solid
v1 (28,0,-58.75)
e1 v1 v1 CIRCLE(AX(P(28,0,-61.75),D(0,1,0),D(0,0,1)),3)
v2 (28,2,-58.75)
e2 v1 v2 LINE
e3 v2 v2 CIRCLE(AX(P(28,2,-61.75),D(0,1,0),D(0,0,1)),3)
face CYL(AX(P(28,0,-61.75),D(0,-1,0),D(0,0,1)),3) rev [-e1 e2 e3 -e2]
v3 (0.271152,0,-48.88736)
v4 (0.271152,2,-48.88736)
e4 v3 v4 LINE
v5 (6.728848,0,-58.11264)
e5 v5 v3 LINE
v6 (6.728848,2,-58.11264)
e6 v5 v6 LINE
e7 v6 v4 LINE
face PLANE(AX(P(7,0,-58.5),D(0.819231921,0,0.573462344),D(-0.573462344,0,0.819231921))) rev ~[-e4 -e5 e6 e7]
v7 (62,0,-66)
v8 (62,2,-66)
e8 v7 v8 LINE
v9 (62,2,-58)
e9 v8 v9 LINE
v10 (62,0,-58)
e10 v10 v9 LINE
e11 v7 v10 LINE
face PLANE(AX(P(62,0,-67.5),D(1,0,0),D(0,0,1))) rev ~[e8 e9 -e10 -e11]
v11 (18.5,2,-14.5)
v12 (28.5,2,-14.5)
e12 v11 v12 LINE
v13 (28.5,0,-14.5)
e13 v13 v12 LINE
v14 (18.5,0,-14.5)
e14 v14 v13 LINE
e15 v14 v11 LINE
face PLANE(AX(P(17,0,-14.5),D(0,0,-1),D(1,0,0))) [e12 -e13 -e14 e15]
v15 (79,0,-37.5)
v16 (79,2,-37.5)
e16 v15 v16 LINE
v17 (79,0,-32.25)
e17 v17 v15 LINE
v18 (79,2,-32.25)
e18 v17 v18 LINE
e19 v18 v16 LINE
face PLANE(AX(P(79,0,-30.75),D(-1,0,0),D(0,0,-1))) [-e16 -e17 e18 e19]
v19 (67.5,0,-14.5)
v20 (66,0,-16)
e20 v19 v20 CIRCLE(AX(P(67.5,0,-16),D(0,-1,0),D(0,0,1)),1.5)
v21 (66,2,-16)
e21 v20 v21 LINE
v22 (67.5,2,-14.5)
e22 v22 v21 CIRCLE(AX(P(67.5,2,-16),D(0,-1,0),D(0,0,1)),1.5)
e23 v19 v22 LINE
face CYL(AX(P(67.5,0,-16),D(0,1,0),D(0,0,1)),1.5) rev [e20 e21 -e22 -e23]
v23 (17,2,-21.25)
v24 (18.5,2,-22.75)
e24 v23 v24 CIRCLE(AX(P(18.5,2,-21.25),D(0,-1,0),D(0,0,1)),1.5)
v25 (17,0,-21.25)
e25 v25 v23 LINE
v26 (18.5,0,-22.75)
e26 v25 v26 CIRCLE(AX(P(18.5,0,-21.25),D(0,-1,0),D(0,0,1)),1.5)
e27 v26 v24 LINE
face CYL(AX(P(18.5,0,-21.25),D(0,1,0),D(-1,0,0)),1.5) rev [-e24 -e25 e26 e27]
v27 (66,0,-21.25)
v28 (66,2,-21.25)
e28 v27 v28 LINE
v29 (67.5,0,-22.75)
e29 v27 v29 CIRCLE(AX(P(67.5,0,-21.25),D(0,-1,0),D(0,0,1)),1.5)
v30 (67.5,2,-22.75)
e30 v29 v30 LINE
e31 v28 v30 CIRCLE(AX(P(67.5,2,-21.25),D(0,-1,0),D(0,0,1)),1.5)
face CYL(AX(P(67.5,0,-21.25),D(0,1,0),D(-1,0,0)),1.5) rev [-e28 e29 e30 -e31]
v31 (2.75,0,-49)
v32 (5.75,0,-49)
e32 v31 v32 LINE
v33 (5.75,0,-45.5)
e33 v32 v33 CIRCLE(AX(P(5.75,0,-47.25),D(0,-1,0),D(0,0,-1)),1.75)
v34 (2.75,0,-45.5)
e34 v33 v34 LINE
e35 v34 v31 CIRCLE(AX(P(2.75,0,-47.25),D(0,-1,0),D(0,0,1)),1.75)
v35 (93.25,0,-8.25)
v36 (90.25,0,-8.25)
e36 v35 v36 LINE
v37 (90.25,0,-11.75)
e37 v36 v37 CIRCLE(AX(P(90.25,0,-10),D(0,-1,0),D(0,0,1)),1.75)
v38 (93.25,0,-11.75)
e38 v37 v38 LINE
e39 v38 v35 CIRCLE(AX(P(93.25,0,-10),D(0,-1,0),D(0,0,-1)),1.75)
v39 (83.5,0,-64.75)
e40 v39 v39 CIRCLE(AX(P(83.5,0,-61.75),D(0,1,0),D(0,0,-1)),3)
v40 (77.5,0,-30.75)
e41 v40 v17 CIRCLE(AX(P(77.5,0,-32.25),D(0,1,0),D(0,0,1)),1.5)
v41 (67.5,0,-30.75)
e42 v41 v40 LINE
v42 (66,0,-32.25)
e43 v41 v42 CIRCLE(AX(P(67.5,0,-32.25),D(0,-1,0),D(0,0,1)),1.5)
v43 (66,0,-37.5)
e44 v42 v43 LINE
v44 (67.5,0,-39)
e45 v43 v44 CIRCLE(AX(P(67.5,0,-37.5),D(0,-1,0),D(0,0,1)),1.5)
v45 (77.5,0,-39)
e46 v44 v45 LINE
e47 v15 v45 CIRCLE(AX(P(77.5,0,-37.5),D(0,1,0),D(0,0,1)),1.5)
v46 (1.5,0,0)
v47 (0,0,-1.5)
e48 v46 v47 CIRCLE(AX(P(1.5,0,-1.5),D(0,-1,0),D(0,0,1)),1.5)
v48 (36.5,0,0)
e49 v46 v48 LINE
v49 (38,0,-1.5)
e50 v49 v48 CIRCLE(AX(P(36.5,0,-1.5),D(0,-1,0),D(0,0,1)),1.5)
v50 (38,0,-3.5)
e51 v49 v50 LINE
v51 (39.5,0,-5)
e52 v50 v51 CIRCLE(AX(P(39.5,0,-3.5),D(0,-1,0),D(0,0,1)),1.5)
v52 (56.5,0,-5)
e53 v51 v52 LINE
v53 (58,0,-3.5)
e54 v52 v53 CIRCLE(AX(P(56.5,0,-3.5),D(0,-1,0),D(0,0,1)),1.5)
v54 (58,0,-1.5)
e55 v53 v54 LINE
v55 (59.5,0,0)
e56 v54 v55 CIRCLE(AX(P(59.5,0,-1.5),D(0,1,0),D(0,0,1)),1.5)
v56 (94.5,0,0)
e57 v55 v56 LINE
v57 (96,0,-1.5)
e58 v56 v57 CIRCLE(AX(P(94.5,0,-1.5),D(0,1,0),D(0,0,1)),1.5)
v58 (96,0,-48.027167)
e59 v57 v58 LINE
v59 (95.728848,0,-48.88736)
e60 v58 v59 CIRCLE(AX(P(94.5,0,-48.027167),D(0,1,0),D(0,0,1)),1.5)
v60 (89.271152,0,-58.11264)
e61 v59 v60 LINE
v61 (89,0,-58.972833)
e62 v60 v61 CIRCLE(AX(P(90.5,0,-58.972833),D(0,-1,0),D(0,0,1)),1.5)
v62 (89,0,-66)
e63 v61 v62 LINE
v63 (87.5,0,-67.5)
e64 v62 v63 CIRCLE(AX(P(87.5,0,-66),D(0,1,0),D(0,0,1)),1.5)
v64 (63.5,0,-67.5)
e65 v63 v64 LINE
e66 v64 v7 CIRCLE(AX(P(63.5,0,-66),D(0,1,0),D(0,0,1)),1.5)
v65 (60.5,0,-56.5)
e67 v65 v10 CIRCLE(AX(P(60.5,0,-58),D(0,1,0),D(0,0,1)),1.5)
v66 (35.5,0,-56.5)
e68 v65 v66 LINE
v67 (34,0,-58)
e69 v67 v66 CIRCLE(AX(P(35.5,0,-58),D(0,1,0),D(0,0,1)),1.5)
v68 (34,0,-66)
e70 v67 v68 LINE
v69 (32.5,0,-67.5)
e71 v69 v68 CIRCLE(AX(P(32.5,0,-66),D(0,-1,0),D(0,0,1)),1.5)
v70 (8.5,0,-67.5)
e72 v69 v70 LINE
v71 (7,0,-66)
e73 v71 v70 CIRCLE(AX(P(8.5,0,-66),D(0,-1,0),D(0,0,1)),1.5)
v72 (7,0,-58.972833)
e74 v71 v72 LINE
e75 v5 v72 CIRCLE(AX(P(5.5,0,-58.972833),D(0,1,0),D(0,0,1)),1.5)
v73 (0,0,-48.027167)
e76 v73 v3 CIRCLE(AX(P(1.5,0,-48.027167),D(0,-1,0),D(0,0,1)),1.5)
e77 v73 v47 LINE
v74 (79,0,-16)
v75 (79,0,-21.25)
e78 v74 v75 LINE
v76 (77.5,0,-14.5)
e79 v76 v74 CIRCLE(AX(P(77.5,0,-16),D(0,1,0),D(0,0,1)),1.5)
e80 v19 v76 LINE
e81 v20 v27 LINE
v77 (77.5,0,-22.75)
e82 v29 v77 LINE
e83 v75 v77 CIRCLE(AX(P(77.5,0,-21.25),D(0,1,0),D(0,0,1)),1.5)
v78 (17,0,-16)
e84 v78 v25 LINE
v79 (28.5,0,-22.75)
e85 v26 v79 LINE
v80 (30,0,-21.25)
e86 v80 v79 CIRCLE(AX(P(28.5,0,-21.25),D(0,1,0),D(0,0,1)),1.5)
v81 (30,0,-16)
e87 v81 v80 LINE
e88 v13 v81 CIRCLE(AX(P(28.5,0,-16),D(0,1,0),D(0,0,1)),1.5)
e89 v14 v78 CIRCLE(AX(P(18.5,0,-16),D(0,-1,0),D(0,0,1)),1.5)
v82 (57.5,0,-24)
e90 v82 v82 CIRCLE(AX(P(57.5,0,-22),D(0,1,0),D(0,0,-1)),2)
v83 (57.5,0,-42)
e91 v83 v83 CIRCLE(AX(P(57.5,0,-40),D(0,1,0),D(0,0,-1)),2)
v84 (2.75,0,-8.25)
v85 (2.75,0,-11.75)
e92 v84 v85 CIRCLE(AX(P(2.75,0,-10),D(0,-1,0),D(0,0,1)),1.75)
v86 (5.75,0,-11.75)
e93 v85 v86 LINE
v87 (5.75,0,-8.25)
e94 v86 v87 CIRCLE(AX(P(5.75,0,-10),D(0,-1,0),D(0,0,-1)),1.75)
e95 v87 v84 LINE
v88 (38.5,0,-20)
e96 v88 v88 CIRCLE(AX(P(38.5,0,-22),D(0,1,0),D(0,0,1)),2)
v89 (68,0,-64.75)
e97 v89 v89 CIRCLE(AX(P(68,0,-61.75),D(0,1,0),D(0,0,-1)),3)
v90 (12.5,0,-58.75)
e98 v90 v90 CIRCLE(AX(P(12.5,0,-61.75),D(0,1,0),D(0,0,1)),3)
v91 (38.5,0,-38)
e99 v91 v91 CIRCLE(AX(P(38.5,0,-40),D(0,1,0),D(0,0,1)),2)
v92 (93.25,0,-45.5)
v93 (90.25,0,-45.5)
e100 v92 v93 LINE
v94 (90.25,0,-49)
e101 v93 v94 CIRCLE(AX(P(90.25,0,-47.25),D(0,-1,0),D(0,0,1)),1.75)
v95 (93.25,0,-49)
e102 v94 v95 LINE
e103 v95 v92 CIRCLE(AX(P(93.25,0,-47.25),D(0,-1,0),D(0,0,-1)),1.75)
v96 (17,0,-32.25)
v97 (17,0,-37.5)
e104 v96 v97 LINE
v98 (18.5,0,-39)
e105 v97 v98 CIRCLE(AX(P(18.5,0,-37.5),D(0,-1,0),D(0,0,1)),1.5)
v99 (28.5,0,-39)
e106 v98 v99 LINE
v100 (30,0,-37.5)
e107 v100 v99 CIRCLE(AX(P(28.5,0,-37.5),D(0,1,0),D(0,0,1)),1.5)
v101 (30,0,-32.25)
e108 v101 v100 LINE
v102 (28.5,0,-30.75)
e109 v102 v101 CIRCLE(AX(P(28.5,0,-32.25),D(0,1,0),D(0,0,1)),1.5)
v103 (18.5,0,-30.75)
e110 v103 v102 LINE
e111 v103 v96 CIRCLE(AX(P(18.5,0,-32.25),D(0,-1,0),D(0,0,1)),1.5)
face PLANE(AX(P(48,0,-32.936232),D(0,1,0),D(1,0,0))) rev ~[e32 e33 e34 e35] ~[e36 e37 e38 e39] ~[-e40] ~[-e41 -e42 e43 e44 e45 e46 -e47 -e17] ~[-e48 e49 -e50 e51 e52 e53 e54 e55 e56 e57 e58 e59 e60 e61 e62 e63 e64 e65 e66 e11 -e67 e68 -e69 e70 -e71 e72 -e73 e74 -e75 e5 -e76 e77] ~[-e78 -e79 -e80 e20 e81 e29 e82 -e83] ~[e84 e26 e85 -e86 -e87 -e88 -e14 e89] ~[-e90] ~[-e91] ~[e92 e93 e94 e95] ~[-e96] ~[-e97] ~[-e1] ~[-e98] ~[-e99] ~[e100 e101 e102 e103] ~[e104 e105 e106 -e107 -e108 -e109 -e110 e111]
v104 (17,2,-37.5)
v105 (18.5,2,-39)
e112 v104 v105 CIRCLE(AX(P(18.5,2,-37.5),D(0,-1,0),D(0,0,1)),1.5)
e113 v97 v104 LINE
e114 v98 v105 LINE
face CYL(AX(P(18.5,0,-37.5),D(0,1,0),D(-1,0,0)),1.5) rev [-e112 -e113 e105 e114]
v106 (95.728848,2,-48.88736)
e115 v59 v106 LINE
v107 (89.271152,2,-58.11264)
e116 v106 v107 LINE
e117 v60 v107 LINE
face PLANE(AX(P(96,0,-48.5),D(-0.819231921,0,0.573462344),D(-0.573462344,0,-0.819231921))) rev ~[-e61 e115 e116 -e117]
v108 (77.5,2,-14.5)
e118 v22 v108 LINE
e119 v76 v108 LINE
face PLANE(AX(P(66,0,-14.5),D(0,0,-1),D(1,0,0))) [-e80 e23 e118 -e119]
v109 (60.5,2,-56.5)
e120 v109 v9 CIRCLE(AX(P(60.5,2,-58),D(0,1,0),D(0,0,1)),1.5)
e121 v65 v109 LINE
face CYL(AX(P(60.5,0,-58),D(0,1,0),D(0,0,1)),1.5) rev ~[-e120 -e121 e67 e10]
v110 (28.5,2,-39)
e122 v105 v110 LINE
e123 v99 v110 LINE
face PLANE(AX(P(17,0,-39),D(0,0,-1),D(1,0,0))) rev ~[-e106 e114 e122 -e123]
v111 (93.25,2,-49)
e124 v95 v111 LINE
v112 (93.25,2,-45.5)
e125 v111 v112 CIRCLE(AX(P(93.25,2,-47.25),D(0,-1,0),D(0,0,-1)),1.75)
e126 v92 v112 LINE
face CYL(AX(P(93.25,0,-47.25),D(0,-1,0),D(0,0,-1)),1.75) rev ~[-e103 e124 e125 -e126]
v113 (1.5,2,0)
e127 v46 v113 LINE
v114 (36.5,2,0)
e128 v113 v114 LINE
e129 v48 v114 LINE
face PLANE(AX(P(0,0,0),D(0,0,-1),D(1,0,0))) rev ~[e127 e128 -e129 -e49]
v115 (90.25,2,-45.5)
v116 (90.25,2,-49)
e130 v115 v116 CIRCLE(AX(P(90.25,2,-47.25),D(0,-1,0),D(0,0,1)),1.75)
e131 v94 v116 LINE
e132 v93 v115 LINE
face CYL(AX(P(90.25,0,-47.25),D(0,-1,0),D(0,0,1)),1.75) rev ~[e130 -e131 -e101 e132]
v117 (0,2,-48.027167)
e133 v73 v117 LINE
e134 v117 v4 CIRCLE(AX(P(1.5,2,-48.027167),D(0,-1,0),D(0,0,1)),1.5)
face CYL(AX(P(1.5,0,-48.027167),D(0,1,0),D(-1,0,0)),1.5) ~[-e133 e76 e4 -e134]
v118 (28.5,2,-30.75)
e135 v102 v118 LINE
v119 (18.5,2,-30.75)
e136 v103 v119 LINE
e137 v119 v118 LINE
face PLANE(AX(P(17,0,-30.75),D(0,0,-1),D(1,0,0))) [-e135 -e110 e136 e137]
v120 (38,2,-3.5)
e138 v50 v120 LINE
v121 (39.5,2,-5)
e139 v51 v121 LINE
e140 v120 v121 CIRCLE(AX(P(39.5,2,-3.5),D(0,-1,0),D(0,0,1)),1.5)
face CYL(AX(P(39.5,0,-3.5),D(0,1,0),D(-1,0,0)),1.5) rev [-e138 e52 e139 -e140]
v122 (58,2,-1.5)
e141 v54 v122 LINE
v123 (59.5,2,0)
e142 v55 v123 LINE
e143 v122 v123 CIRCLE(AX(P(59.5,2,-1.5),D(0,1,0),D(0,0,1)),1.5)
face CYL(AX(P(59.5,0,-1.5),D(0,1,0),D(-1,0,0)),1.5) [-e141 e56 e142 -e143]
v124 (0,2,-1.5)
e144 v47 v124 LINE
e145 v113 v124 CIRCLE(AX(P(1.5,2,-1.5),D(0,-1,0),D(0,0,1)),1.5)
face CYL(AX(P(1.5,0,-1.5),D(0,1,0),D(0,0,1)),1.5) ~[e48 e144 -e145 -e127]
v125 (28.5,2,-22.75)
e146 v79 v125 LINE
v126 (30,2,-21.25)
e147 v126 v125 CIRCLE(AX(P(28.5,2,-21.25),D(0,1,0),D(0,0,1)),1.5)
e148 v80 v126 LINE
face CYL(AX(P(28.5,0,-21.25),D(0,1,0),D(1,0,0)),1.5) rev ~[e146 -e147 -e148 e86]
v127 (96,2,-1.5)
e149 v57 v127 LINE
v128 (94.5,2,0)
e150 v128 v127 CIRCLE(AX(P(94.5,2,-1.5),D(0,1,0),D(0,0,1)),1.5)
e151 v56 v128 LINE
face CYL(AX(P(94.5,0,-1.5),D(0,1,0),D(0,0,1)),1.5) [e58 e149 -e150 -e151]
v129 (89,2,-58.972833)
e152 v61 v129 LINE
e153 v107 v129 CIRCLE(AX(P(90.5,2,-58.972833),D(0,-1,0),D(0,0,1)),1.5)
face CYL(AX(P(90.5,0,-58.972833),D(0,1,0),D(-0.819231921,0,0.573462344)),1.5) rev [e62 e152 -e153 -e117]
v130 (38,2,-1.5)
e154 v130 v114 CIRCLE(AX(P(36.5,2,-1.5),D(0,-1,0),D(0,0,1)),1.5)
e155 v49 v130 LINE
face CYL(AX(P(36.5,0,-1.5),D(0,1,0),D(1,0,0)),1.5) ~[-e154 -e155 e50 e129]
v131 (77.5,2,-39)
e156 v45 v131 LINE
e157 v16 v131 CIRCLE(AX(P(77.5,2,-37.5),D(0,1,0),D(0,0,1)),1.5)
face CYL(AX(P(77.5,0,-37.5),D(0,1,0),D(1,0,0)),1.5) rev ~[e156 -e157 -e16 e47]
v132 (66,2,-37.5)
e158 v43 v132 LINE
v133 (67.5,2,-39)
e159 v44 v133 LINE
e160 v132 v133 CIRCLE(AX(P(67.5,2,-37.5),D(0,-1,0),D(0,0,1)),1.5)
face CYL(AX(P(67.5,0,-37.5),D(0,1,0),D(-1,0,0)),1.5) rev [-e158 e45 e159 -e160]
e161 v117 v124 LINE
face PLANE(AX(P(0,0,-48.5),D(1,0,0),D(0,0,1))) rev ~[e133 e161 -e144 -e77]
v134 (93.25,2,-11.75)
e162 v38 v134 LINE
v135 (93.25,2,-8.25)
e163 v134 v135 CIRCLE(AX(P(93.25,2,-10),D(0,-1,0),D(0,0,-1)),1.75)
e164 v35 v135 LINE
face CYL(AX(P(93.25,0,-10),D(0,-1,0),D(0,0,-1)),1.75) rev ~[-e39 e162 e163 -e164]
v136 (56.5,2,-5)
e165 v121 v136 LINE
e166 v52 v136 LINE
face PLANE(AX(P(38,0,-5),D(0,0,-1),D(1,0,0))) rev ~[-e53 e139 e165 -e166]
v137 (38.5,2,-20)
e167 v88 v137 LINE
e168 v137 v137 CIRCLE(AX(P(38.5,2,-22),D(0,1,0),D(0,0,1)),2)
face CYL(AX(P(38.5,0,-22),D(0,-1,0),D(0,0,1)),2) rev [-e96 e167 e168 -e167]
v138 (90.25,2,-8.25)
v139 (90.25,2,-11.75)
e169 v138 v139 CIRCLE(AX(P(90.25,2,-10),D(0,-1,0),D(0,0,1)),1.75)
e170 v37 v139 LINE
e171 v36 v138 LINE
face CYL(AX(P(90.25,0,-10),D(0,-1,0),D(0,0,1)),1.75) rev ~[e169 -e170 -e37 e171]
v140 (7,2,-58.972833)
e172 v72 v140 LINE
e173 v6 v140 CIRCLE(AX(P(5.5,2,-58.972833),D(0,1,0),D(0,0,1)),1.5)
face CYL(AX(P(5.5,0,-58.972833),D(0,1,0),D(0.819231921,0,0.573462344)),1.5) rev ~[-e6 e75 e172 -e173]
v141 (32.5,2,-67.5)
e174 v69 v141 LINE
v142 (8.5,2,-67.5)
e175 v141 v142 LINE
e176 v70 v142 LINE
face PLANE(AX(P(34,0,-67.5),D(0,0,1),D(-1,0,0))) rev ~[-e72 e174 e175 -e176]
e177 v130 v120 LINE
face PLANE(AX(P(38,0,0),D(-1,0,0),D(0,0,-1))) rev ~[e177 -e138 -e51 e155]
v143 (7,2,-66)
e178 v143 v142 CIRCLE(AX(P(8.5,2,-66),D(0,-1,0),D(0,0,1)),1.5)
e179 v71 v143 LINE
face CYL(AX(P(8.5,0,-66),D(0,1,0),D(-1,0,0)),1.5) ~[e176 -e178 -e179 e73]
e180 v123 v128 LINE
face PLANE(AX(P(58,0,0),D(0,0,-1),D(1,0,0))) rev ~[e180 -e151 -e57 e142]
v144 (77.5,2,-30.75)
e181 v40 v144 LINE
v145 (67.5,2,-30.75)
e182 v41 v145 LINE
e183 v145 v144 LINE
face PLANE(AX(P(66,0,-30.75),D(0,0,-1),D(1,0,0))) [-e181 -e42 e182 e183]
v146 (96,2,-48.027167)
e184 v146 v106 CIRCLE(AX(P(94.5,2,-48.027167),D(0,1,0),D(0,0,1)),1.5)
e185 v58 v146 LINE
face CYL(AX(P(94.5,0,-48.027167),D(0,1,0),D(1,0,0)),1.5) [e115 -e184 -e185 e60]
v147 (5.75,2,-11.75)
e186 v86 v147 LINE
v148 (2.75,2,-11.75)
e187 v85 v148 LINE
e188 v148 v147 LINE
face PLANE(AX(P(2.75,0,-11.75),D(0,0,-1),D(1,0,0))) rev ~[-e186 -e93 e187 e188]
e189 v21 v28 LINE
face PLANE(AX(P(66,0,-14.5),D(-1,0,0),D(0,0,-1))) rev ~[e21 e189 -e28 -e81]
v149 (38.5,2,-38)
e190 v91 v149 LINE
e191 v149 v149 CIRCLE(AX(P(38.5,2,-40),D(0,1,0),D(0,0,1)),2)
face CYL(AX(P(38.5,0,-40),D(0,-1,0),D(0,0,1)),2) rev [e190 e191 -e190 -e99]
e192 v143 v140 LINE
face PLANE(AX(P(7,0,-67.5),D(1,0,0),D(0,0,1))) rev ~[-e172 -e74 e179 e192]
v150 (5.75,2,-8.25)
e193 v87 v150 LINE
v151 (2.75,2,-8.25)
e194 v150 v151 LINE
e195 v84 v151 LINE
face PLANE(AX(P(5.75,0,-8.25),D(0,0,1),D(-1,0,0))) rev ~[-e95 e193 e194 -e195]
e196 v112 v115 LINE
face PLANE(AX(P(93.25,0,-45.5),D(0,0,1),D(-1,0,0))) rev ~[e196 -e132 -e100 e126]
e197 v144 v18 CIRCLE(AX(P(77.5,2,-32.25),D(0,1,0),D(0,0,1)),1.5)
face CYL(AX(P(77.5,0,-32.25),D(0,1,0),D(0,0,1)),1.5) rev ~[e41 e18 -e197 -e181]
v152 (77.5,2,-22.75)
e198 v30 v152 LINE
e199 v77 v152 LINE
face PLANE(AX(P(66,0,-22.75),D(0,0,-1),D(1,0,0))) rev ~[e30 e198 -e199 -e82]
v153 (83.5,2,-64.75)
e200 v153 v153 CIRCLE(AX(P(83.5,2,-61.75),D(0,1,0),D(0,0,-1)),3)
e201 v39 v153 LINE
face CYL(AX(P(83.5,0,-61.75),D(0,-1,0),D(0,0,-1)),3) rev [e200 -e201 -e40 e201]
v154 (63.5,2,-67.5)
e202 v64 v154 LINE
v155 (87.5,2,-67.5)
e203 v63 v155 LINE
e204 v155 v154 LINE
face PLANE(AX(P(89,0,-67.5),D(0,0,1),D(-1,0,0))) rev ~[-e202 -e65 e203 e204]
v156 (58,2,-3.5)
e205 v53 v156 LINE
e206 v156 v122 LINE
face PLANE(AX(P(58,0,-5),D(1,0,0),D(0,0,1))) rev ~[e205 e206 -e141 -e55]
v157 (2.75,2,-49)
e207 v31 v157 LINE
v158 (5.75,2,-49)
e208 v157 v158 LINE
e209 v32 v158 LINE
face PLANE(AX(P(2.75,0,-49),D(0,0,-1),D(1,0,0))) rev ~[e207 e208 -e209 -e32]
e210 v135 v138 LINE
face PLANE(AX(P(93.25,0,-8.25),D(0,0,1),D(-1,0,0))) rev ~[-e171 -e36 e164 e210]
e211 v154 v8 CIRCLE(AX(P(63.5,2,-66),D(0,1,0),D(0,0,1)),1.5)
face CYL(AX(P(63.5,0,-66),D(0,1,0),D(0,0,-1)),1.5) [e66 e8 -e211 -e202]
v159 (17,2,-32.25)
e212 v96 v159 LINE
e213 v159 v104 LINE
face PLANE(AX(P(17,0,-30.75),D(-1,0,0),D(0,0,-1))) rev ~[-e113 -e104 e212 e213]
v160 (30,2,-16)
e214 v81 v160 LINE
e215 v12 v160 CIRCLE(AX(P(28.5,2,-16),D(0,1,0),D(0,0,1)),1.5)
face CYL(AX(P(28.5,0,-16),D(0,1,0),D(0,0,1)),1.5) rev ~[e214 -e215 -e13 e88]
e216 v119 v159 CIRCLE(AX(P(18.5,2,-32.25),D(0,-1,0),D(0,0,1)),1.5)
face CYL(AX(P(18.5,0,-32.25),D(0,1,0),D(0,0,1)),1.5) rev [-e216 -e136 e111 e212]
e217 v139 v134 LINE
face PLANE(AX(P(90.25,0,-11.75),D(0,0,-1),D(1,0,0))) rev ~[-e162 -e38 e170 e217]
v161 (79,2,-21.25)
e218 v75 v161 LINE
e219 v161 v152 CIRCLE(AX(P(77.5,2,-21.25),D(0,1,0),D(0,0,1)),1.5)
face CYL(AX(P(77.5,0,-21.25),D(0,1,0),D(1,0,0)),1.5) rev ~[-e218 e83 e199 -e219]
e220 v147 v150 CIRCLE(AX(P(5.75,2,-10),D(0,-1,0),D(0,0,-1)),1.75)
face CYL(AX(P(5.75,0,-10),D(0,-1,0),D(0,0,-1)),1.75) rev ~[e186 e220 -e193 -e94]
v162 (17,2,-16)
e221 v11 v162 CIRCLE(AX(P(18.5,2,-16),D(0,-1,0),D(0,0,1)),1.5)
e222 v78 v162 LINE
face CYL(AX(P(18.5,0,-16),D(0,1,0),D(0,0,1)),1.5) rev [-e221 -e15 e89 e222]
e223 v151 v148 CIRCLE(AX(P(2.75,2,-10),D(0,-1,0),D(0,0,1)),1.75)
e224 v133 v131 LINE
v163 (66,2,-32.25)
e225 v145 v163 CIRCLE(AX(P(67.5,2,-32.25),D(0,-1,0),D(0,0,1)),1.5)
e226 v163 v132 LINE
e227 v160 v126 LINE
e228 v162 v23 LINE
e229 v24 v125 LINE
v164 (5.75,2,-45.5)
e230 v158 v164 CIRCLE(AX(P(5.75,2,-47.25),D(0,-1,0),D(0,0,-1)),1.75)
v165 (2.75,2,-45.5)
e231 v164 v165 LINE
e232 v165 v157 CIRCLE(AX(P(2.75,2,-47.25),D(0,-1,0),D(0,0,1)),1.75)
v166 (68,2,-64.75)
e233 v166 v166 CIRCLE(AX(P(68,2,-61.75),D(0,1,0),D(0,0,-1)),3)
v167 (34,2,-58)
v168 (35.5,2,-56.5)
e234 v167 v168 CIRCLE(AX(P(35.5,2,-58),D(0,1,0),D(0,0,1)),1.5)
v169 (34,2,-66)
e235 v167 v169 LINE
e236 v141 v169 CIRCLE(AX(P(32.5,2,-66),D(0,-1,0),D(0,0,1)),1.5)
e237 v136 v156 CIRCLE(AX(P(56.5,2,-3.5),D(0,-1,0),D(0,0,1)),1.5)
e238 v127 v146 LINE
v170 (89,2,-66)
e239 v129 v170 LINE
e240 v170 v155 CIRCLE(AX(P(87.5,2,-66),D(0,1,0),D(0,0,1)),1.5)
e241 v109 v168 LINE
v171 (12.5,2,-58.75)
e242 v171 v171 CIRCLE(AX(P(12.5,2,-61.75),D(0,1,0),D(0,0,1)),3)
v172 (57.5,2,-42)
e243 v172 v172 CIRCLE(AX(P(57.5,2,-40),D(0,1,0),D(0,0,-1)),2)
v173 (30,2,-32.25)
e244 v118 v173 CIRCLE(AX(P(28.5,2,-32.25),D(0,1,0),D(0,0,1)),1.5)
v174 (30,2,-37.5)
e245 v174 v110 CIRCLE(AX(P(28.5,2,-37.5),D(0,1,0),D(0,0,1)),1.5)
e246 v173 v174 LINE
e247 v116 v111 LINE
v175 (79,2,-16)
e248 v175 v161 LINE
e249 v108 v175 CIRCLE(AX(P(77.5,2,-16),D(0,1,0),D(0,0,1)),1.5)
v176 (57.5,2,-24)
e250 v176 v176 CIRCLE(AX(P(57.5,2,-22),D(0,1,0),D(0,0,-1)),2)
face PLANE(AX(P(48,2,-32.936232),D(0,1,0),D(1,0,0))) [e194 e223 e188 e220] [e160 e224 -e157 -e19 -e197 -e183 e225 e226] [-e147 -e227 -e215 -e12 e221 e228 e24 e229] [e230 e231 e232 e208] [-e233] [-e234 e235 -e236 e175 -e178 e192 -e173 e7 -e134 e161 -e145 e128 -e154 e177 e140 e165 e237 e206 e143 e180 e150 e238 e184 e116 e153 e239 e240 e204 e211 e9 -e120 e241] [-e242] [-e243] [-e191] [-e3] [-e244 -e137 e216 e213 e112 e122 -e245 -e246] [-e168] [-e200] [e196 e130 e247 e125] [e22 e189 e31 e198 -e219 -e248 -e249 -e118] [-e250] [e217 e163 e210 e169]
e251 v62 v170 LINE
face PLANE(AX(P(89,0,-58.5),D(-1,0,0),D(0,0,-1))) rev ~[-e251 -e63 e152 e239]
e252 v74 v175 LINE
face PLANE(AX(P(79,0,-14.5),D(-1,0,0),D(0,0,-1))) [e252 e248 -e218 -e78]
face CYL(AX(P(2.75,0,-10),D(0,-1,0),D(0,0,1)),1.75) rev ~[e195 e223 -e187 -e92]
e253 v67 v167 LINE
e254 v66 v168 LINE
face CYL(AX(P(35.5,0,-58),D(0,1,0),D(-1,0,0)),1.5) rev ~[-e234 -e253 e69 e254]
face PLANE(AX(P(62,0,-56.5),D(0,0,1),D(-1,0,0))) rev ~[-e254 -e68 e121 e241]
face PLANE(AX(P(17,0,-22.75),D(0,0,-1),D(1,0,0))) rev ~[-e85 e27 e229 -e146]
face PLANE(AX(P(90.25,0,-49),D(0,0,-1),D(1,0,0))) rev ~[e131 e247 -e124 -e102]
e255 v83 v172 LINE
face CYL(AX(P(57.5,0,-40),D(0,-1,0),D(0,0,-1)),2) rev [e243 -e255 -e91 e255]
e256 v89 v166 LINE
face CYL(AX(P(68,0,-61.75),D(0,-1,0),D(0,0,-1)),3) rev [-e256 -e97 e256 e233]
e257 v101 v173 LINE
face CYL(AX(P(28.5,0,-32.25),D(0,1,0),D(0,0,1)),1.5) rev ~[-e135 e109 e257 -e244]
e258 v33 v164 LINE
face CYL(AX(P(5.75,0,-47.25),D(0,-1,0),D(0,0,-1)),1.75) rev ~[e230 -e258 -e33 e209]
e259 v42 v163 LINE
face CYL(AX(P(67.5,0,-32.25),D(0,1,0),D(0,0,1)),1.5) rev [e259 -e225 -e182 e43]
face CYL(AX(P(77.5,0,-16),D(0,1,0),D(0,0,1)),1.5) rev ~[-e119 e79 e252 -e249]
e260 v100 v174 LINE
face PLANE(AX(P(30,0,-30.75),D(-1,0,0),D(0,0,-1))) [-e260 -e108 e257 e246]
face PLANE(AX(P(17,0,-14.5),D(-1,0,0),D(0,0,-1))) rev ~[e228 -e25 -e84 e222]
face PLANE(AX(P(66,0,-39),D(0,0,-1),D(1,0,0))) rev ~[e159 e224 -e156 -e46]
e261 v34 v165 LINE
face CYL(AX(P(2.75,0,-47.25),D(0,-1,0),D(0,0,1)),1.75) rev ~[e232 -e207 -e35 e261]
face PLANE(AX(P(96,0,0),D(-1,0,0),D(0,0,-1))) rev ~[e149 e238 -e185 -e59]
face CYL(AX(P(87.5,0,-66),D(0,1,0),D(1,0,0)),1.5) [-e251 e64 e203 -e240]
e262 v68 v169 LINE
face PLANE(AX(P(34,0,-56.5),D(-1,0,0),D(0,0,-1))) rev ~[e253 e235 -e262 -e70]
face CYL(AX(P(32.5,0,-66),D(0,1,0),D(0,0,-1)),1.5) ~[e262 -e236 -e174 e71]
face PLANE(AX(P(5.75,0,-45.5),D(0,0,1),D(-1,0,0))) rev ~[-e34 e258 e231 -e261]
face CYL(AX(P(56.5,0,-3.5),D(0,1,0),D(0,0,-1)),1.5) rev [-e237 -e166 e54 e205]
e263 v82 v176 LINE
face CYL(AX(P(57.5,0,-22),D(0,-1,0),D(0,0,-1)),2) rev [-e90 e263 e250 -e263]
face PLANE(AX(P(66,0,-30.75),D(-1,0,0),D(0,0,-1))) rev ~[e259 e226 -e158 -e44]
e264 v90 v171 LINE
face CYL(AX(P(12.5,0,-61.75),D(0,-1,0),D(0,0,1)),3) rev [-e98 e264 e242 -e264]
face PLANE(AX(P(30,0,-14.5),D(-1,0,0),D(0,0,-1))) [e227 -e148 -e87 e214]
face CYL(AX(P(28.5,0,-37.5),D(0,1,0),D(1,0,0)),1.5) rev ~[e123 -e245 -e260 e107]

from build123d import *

# Parameters (mm, degrees)
SKETCH1_R           = 2
SKETCH1_R_2         = 3
SKETCH1_W           = 13
SKETCH1_H           = 8.25
BOSS_EXTRUDE1_DEPTH = 2
FILLET1_R           = 1.5


with BuildPart() as part:
    # Sketch1 → Boss-Extrude1 (new body)
    with BuildSketch(Plane(origin=(0, 0, 0), x_dir=(1, 0, 0), z_dir=(0, 1, 0))):
        Polygon((38, 0), (38, 5), (58, 5), (58, 0), (96, 0), (96, 48.5), (89, 58.5), (89, 67.5), (62, 67.5), (62, 56.5), (34, 56.5), (34, 67.5), (7, 67.5), (7, 58.5), (0, 48.5), (0, 0), align=None)
        with Locations(Location((38.5, 40, 0), (0, 0, 270))):
            Circle(SKETCH1_R, mode=Mode.SUBTRACT)
        with Locations(Location((38.5, 22, 0), (0, 0, 270))):
            Circle(SKETCH1_R, mode=Mode.SUBTRACT)
        with Locations(Location((57.5, 22, 0), (0, 0, 90))):
            Circle(SKETCH1_R, mode=Mode.SUBTRACT)
        with Locations(Location((57.5, 40, 0), (0, 0, 90))):
            Circle(SKETCH1_R, mode=Mode.SUBTRACT)
        with Locations(Location((12.5, 61.75, 0), (0, 0, 270))):
            Circle(SKETCH1_R_2, mode=Mode.SUBTRACT)
        with Locations(Location((28, 61.75, 0), (0, 0, 270))):
            Circle(SKETCH1_R_2, mode=Mode.SUBTRACT)
        with Locations(Location((68, 61.75, 0), (0, 0, 90))):
            Circle(SKETCH1_R_2, mode=Mode.SUBTRACT)
        with Locations(Location((83.5, 61.75, 0), (0, 0, 90))):
            Circle(SKETCH1_R_2, mode=Mode.SUBTRACT)
        with Locations((72.5, 18.625)):
            Rectangle(SKETCH1_W, SKETCH1_H, mode=Mode.SUBTRACT)
        with Locations((23.5, 34.875)):
            Rectangle(SKETCH1_W, SKETCH1_H, mode=Mode.SUBTRACT)
        with Locations((23.5, 18.625)):
            Rectangle(SKETCH1_W, SKETCH1_H, mode=Mode.SUBTRACT)
        with Locations((72.5, 34.875)):
            Rectangle(SKETCH1_W, SKETCH1_H, mode=Mode.SUBTRACT)
        with BuildLine():
            Line((2.75, 11.75), (5.75, 11.75))
            ThreePointArc((5.75, 11.75), (7.5, 10), (5.75, 8.25))
            Line((5.75, 8.25), (2.75, 8.25))
            ThreePointArc((2.75, 8.25), (1, 10), (2.75, 11.75))
        make_face(mode=Mode.SUBTRACT)
        with BuildLine():
            Line((93.25, 8.25), (90.25, 8.25))
            ThreePointArc((90.25, 8.25), (88.5, 10), (90.25, 11.75))
            Line((90.25, 11.75), (93.25, 11.75))
            ThreePointArc((93.25, 11.75), (95, 10), (93.25, 8.25))
        make_face(mode=Mode.SUBTRACT)
        with BuildLine():
            Line((93.25, 45.5), (90.25, 45.5))
            ThreePointArc((90.25, 45.5), (88.5, 47.25), (90.25, 49))
            Line((90.25, 49), (93.25, 49))
            ThreePointArc((93.25, 49), (95, 47.25), (93.25, 45.5))
        make_face(mode=Mode.SUBTRACT)
        with BuildLine():
            Line((2.75, 49), (5.75, 49))
            ThreePointArc((5.75, 49), (7.5, 47.25), (5.75, 45.5))
            Line((5.75, 45.5), (2.75, 45.5))
            ThreePointArc((2.75, 45.5), (1, 47.25), (2.75, 49))
        make_face(mode=Mode.SUBTRACT)
    extrude(amount=BOSS_EXTRUDE1_DEPTH)

    # Fillet1
    fillet1_edges = [part.edges().sort_by_distance(p)[0] for p in [
        (0, 1, -48.5),
        (7, 1, -58.5),
        (7, 1, -67.5),
        (34, 1, -67.5),
        (34, 1, -56.5),
        (62, 1, -56.5),
        (62, 1, -67.5),
        (89, 1, -67.5),
        (89, 1, -58.5),
        (96, 1, -48.5),
        (96, 1, 0),
        (58, 1, 0),
        (58, 1, -5),
        (38, 1, -5),
        (38, 1, 0),
        (0, 1, 0),
        (17, 1, -39),
        (17, 1, -30.75),
        (30, 1, -30.75),
        (30, 1, -39),
        (17, 1, -22.75),
        (17, 1, -14.5),
        (30, 1, -14.5),
        (30, 1, -22.75),
        (79, 1, -14.5),
        (79, 1, -22.75),
        (66, 1, -22.75),
        (66, 1, -14.5),
        (79, 1, -30.75),
        (79, 1, -39),
        (66, 1, -39),
        (66, 1, -30.75),
    ]]
    fillet(fillet1_edges, radius=FILLET1_R)


solid = part.part
